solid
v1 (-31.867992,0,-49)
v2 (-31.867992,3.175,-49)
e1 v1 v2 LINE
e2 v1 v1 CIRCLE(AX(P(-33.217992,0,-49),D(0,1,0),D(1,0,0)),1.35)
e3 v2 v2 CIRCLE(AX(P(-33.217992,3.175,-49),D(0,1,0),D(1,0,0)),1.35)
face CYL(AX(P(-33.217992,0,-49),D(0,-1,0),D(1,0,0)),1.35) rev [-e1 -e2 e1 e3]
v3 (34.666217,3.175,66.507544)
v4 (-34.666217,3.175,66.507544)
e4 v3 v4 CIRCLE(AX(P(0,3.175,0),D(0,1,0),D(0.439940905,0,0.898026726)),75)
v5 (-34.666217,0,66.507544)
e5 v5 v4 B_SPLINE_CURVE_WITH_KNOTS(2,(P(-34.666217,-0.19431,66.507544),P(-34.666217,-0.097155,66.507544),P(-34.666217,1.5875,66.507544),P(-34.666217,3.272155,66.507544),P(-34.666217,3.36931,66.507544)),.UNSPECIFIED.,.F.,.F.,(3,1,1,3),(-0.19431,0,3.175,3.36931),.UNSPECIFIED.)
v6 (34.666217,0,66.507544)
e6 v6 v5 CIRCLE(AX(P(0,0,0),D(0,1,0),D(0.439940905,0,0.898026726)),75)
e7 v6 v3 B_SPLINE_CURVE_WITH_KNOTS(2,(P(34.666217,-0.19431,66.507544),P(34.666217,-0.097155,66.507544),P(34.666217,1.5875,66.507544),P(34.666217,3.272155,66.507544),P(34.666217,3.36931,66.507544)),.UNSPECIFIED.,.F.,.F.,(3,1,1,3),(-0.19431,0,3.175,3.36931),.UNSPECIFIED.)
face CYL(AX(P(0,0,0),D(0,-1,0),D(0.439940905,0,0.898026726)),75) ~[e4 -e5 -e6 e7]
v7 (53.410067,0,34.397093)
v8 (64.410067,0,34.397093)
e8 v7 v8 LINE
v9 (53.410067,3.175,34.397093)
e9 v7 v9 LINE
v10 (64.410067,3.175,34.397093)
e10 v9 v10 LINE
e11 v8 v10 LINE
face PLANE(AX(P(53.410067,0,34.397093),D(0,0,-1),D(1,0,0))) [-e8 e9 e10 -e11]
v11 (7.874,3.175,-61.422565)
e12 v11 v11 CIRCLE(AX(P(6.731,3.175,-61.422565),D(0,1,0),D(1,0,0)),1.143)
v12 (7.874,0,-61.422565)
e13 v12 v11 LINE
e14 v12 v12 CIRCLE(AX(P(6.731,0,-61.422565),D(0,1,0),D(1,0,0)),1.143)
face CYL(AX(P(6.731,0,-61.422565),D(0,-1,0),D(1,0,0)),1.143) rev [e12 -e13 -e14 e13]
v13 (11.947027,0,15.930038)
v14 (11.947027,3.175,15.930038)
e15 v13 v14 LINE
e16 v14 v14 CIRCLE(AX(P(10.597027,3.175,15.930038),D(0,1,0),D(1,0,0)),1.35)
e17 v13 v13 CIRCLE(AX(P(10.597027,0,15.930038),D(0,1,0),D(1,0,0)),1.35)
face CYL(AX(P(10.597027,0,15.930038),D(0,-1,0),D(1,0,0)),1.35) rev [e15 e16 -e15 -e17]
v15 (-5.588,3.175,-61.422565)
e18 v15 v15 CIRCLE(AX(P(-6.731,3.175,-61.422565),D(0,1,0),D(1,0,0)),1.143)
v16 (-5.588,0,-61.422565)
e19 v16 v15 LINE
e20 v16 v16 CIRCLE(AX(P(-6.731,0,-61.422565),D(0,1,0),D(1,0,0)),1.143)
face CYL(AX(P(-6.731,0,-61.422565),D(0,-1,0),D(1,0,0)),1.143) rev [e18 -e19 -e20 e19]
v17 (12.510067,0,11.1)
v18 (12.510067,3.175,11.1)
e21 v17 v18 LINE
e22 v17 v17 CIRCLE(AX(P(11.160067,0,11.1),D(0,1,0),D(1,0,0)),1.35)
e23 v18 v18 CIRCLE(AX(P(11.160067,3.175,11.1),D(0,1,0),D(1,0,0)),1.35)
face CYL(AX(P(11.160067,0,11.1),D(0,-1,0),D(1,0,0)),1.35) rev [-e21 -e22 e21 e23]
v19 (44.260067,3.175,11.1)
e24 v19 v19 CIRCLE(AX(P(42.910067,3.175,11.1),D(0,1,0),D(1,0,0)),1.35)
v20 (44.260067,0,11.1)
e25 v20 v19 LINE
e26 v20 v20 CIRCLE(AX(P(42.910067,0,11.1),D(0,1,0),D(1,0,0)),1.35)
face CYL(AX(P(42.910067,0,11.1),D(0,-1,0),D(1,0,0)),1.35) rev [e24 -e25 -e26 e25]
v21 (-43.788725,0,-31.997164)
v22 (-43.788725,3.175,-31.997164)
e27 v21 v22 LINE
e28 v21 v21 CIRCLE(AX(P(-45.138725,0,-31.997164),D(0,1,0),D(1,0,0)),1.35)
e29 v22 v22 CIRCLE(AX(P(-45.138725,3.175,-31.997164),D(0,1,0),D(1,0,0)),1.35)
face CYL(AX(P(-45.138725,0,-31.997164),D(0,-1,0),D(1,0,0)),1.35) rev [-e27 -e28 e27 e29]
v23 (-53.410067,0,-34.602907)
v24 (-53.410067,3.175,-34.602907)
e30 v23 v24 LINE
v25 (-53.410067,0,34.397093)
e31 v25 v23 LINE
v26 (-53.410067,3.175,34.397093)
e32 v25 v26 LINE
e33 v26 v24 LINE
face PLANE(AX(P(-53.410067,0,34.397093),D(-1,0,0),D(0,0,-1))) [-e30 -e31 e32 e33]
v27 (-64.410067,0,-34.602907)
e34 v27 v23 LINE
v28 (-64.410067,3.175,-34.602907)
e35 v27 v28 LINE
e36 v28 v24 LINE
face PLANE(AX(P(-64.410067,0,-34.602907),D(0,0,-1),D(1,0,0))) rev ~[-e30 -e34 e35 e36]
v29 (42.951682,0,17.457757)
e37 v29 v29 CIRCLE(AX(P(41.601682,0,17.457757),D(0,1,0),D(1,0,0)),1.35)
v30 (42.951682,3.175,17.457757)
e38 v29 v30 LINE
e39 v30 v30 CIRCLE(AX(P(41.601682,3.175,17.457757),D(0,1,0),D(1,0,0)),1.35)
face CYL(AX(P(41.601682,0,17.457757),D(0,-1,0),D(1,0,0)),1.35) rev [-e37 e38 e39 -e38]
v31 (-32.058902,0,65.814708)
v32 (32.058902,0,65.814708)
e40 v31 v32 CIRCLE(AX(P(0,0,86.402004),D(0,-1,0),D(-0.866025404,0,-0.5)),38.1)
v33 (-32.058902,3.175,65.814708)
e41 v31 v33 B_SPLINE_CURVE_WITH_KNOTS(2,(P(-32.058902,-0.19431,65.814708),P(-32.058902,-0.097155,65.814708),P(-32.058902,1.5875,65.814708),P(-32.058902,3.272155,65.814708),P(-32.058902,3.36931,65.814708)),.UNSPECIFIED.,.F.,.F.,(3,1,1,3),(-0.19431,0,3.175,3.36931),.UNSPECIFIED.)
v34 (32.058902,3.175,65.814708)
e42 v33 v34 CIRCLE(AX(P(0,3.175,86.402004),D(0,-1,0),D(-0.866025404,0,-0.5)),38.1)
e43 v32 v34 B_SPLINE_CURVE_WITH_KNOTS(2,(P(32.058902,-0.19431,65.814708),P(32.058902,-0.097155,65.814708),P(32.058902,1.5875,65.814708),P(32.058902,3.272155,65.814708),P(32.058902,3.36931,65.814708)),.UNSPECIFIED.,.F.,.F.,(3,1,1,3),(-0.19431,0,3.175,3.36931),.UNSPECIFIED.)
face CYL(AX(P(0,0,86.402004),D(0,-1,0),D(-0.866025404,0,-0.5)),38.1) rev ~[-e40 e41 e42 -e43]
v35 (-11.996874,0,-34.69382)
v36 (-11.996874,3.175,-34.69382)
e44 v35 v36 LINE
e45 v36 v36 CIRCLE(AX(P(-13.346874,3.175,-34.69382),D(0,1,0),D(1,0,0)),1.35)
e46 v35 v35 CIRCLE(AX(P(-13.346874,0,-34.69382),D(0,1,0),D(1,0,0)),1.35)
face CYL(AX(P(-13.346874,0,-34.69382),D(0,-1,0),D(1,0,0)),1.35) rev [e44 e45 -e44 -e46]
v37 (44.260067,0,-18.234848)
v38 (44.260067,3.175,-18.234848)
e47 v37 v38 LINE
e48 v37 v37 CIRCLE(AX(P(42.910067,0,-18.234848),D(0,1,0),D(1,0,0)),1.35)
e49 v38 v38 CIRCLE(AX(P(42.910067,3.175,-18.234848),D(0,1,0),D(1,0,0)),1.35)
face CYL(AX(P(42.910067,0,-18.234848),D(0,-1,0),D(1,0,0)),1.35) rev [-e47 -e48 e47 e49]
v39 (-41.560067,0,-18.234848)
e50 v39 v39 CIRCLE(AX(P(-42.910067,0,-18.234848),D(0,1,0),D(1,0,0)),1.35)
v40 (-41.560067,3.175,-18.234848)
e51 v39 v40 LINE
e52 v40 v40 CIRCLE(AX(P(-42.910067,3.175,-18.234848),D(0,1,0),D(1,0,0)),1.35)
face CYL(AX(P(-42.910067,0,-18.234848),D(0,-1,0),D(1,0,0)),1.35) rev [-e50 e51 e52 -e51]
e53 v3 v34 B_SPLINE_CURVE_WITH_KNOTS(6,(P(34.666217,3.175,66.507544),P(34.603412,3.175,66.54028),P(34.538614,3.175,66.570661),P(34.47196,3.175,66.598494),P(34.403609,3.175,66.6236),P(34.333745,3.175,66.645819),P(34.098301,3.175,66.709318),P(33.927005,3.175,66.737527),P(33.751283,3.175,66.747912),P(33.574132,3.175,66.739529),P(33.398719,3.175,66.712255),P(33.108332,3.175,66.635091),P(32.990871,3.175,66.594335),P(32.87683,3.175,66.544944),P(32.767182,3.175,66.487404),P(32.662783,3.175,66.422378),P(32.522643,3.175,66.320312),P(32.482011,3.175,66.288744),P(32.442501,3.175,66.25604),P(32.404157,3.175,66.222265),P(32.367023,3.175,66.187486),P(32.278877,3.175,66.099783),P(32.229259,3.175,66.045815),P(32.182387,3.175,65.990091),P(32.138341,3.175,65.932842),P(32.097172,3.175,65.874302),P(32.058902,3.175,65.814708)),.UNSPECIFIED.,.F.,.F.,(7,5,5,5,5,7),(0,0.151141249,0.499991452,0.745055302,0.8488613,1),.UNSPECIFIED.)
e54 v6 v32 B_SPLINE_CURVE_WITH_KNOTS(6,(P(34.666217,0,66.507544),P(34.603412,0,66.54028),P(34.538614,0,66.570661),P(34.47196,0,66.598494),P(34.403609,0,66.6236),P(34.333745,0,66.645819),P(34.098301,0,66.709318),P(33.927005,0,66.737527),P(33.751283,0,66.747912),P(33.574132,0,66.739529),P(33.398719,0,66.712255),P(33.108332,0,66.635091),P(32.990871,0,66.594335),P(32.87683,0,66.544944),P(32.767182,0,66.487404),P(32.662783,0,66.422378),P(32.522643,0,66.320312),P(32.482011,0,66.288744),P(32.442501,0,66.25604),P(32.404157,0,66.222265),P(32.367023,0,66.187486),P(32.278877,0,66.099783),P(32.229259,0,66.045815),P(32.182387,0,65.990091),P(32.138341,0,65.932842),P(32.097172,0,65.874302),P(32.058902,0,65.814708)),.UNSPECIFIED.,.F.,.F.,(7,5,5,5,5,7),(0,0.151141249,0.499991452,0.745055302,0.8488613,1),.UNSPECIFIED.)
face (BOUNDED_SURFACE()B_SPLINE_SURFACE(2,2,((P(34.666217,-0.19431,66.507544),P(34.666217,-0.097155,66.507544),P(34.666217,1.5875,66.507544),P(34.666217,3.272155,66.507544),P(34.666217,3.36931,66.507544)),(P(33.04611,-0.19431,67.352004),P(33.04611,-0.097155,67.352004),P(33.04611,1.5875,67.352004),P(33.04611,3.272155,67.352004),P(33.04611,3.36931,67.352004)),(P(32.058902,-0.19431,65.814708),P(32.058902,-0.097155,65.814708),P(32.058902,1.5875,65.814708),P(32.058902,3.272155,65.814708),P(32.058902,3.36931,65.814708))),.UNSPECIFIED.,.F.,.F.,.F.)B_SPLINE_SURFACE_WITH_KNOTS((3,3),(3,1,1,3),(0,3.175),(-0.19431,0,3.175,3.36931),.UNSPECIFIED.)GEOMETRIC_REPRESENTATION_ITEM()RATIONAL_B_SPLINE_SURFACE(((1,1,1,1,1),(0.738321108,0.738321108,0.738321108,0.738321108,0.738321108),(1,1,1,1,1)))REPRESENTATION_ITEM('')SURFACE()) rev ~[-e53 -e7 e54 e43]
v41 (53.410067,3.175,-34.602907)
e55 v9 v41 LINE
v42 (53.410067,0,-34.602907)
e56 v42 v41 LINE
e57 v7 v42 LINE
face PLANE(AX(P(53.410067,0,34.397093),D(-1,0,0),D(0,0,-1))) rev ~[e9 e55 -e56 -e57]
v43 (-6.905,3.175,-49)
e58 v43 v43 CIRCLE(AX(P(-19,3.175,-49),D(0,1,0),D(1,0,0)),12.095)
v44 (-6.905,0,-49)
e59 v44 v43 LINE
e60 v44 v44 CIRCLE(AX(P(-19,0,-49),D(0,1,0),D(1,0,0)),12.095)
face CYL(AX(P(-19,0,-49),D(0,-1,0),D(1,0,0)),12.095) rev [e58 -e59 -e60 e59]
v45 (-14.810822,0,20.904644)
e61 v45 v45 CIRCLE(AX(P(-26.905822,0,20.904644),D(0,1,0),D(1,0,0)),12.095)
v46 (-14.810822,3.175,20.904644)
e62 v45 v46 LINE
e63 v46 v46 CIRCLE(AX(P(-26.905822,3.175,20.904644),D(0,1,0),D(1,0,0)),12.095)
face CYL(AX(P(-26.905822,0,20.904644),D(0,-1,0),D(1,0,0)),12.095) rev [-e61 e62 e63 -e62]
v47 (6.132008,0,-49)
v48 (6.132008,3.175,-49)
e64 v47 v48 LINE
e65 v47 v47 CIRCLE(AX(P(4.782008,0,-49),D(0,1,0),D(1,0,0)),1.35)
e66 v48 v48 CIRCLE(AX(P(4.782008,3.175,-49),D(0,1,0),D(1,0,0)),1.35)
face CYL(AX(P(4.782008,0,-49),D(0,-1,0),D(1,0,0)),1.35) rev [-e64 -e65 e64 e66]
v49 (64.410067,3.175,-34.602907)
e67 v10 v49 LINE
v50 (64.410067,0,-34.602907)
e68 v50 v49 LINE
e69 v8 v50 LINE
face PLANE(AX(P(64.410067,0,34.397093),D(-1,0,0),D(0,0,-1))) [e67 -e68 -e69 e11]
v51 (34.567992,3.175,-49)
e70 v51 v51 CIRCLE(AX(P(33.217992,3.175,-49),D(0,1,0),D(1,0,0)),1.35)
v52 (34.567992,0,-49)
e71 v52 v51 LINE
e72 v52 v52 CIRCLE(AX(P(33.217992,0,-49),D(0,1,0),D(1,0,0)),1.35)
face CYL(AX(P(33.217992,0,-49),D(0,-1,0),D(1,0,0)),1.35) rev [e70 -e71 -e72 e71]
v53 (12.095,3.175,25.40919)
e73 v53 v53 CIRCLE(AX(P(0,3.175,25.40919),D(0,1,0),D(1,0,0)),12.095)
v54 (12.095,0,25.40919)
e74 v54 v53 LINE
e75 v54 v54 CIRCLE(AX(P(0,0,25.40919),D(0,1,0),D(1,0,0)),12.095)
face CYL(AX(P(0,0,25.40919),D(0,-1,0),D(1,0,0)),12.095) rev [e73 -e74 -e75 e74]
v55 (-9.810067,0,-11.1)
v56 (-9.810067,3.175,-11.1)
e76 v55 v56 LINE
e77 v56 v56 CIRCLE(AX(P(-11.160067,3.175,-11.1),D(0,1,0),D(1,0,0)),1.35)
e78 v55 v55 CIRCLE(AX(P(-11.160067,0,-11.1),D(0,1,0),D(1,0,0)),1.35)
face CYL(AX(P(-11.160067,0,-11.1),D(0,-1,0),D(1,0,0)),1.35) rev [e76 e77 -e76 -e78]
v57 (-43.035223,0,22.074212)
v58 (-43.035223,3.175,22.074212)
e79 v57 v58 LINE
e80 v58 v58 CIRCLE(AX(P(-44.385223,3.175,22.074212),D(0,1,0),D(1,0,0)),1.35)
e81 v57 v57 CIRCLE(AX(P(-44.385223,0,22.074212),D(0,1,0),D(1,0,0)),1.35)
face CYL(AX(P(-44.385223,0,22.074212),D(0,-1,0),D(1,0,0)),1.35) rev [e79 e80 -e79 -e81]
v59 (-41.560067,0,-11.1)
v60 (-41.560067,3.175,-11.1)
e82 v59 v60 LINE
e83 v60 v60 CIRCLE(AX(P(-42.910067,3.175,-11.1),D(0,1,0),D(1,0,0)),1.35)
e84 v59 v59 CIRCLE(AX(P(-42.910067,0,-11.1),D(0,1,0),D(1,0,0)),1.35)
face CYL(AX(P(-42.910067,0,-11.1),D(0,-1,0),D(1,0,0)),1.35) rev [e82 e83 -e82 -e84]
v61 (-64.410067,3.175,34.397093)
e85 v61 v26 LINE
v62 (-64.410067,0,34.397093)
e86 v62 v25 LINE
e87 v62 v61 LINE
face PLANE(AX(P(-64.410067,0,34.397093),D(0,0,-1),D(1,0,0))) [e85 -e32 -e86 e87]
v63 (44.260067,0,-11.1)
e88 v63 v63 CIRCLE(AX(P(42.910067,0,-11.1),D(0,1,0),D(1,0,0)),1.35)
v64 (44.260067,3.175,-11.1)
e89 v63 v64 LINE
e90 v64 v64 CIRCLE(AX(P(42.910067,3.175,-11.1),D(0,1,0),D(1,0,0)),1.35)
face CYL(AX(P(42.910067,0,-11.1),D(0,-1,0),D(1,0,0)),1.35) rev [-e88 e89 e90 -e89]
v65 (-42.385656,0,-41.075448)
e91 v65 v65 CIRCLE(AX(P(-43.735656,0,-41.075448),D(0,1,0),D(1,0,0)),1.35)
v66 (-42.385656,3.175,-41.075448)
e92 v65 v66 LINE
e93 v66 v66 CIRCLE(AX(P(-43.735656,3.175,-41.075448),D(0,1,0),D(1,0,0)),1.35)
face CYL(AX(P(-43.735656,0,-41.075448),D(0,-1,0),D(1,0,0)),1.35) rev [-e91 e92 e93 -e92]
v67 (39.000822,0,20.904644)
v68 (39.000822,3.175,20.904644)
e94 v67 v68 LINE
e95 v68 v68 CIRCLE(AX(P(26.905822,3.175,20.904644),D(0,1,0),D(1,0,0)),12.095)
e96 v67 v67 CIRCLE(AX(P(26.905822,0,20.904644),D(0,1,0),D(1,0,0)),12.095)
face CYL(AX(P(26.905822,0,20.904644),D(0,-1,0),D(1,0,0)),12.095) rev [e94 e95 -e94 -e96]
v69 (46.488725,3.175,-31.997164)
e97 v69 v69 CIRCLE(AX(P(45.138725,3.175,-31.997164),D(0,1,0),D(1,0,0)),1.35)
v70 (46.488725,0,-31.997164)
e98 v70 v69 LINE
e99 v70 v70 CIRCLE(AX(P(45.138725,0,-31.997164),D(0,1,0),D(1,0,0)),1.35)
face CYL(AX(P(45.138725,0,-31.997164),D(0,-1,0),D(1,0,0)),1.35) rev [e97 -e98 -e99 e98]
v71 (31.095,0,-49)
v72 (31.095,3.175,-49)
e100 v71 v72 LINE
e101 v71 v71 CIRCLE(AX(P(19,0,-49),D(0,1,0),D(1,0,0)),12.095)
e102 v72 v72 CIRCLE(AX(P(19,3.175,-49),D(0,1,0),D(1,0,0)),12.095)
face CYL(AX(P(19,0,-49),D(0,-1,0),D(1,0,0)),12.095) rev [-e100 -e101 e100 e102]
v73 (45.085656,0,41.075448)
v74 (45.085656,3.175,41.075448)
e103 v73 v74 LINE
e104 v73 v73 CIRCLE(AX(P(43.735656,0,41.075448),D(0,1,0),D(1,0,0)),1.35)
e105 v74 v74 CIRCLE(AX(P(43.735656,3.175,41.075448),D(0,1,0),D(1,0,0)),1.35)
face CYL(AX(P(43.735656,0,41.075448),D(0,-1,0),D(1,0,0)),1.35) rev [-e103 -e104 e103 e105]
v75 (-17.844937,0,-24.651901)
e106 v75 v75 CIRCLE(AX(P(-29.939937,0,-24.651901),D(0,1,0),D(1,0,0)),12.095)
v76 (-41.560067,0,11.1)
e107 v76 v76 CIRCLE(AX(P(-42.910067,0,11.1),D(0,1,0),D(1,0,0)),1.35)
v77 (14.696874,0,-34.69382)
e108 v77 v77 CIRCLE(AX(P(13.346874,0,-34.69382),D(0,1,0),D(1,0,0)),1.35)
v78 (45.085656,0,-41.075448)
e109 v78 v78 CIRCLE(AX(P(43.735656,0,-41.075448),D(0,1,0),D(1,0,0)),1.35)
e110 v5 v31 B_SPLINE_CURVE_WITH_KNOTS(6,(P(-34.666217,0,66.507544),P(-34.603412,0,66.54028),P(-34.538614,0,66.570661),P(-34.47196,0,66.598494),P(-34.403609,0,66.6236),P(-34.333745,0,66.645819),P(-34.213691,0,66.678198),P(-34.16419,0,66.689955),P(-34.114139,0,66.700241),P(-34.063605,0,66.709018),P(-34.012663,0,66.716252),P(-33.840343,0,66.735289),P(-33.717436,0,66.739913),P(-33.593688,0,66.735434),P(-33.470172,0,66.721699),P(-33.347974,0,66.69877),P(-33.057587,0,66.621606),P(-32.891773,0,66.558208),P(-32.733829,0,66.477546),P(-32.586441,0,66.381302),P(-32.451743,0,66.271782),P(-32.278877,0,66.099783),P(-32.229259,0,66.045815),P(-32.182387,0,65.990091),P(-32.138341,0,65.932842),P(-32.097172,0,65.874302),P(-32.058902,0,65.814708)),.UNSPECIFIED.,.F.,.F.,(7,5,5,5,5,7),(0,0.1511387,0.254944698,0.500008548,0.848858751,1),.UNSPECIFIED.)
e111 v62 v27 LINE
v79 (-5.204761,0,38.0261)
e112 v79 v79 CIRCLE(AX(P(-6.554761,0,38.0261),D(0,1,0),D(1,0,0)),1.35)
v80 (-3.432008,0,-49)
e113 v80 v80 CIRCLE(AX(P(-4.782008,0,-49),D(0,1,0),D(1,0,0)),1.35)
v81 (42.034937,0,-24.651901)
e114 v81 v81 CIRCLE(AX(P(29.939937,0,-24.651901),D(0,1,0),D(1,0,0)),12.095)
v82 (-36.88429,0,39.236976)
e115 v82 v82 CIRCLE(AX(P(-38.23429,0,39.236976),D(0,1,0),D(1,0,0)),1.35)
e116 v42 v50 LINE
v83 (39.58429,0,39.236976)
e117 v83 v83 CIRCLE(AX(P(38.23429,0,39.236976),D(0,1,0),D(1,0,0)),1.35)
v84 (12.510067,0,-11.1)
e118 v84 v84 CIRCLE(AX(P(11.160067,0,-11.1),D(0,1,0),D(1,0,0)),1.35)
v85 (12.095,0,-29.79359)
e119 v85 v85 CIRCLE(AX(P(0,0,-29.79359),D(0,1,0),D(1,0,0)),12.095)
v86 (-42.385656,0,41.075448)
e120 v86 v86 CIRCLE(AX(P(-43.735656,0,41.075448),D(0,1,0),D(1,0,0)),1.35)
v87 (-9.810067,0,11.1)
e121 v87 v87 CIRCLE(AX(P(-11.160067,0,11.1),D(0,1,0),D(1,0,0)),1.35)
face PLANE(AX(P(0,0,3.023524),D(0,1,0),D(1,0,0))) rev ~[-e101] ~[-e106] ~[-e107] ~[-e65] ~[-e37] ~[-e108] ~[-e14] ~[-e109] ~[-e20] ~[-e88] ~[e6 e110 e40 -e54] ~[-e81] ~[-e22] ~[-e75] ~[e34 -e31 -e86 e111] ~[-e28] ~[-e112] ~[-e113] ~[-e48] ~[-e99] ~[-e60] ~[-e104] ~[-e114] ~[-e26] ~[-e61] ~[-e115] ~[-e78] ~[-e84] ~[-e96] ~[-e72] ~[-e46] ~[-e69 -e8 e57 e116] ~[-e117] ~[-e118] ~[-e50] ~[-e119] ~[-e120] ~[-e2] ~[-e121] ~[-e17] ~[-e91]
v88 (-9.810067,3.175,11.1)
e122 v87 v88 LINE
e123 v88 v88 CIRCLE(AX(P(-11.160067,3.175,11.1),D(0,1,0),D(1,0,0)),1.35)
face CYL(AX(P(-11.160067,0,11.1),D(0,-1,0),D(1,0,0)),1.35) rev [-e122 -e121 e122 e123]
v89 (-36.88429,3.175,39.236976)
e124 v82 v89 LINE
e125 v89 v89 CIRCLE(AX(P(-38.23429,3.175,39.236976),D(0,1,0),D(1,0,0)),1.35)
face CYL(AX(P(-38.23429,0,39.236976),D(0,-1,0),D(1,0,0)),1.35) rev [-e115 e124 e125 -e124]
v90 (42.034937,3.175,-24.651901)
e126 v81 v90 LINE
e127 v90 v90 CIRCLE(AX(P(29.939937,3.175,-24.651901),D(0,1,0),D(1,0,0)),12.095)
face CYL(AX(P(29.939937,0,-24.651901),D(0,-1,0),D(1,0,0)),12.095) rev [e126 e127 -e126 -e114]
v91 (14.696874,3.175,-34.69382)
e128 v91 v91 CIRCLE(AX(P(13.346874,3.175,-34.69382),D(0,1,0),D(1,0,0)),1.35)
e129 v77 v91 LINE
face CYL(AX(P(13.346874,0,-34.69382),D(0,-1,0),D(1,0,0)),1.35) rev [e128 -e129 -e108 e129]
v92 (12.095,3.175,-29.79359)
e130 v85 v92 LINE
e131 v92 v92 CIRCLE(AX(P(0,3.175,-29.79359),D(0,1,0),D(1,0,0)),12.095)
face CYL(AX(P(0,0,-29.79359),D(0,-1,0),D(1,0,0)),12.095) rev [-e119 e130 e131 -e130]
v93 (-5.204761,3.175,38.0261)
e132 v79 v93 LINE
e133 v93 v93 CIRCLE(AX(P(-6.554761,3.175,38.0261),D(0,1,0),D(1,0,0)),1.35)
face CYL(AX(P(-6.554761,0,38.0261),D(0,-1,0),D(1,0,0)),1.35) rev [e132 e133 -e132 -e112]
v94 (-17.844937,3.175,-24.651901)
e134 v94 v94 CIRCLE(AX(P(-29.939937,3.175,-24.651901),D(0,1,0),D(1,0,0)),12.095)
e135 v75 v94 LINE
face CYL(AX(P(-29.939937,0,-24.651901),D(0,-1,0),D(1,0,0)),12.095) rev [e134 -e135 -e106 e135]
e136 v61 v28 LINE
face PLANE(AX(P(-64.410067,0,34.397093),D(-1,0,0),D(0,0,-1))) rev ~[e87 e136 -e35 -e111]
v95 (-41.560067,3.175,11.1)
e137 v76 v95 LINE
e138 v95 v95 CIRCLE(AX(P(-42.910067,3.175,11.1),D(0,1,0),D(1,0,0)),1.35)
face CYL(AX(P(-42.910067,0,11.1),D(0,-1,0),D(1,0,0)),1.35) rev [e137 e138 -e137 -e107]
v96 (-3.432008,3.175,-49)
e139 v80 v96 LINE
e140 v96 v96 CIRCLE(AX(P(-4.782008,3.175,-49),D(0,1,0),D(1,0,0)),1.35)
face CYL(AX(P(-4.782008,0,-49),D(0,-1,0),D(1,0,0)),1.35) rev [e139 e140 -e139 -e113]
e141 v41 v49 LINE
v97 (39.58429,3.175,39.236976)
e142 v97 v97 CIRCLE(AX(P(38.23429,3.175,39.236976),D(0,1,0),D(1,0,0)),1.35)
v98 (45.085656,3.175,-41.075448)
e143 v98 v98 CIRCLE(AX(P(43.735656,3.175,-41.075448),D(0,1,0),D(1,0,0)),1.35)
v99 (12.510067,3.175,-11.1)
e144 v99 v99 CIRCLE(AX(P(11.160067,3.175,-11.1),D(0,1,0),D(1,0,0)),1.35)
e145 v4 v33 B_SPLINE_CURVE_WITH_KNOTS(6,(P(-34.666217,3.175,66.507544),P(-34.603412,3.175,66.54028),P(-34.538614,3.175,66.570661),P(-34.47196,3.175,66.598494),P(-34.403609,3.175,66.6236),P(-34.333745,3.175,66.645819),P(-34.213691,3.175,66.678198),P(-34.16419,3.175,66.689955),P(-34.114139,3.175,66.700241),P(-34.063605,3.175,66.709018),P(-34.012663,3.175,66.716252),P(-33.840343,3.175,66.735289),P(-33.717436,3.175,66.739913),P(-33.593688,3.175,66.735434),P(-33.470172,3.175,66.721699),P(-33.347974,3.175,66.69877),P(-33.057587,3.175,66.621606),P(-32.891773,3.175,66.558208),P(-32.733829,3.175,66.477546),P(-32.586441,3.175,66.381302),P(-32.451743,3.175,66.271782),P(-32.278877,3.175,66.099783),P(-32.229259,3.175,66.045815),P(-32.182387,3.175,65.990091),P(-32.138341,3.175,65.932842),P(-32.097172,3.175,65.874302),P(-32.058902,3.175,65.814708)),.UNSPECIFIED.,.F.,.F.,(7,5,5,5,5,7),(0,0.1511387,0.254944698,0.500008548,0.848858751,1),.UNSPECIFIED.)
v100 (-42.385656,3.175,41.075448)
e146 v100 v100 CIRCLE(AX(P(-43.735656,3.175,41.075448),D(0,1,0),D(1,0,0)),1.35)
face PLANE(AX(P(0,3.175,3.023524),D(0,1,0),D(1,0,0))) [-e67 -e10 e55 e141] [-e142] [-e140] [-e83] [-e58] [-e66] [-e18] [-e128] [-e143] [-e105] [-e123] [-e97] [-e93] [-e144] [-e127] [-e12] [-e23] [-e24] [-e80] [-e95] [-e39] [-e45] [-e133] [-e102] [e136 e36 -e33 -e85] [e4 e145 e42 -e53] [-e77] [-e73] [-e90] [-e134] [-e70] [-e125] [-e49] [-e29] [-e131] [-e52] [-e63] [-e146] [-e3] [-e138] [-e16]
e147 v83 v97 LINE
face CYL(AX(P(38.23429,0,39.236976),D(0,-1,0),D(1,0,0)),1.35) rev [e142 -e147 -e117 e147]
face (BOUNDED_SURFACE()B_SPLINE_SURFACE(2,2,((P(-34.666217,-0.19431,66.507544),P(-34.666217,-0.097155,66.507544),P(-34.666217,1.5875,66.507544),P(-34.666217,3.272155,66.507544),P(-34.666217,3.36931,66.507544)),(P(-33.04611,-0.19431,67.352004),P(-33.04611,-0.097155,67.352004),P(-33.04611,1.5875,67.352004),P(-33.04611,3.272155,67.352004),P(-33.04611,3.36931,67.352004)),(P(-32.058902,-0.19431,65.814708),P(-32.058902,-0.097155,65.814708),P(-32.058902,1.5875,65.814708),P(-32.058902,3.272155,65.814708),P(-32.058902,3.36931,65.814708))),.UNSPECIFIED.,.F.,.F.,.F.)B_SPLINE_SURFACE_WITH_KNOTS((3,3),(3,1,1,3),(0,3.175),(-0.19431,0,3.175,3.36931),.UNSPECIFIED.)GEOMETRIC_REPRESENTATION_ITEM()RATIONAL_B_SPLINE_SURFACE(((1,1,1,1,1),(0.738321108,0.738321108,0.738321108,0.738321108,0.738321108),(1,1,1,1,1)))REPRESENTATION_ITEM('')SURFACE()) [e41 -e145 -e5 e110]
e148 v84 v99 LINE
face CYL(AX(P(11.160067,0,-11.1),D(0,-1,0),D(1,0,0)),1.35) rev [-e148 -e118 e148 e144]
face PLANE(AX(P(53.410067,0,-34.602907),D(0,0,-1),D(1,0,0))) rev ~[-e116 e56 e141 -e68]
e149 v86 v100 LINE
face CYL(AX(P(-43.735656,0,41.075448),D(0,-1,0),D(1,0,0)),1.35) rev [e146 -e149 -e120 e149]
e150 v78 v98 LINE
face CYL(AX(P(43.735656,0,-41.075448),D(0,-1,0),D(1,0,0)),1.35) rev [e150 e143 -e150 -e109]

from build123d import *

# Parameters (mm, degrees)
SKETCH1_R           = 1.35
SKETCH1_R_2         = 12.095
SKETCH1_R_3         = 1.143
SKETCH1_W           = 11
SKETCH1_H           = 69
BOSS_EXTRUDE2_DEPTH = 3.175
FILLET1_R           = 2


with BuildPart() as part:
    # Sketch1 → Boss-Extrude2 (new body)
    with BuildSketch(Plane(origin=(0, 0, 0), x_dir=(1, 0, 0), z_dir=(0, 1, 0))):
        with BuildLine():
            ThreePointArc((32.995567884, -67.352004425), (0, 75), (-32.995567884, -67.352004425))
            ThreePointArc((-32.995567884, -67.352004425), (0, -48.302004425), (32.995567884, -67.352004425))
        make_face()
        with Locations((-42.910067426, 11.1)):
            Circle(SKETCH1_R, mode=Mode.SUBTRACT)
        with Locations((-42.910067426, -11.1)):
            Circle(SKETCH1_R, mode=Mode.SUBTRACT)
        with Locations((-11.160067426, -11.1)):
            Circle(SKETCH1_R, mode=Mode.SUBTRACT)
        with Locations((-11.160067426, 11.1)):
            Circle(SKETCH1_R, mode=Mode.SUBTRACT)
        with Locations((11.160067426, 11.1)):
            Circle(SKETCH1_R, mode=Mode.SUBTRACT)
        with Locations((11.160067426, -11.1)):
            Circle(SKETCH1_R, mode=Mode.SUBTRACT)
        with Locations((42.910067426, -11.1)):
            Circle(SKETCH1_R, mode=Mode.SUBTRACT)
        with Locations((42.910067426, 11.1)):
            Circle(SKETCH1_R, mode=Mode.SUBTRACT)
        with Locations((26.905821676, -20.904643604)):
            Circle(SKETCH1_R_2, mode=Mode.SUBTRACT)
        with Locations((19, 49)):
            Circle(SKETCH1_R_2, mode=Mode.SUBTRACT)
        with Locations((0, 29.793589551)):
            Circle(SKETCH1_R_2, mode=Mode.SUBTRACT)
        with Locations((0, -25.409190322)):
            Circle(SKETCH1_R_2, mode=Mode.SUBTRACT)
        with Locations((29.939937248, 24.651901309)):
            Circle(SKETCH1_R_2, mode=Mode.SUBTRACT)
        with Locations((-26.905821676, -20.904643604)):
            Circle(SKETCH1_R_2, mode=Mode.SUBTRACT)
        with Locations((6.731, 61.422565207)):
            Circle(SKETCH1_R_3, mode=Mode.SUBTRACT)
        with Locations((-6.731, 61.422565207)):
            Circle(SKETCH1_R_3, mode=Mode.SUBTRACT)
        with Locations((-29.939937248, 24.651901309)):
            Circle(SKETCH1_R_2, mode=Mode.SUBTRACT)
        with Locations((-33.21799214, 49)):
            Circle(SKETCH1_R, mode=Mode.SUBTRACT)
        with Locations((-4.78200786, 49)):
            Circle(SKETCH1_R, mode=Mode.SUBTRACT)
        with Locations((4.78200786, 49)):
            Circle(SKETCH1_R, mode=Mode.SUBTRACT)
        with Locations((-42.910067426, 18.234848025)):
            Circle(SKETCH1_R, mode=Mode.SUBTRACT)
        with Locations((42.910067426, 18.234848025)):
            Circle(SKETCH1_R, mode=Mode.SUBTRACT)
        with Locations((-19, 49)):
            Circle(SKETCH1_R_2, mode=Mode.SUBTRACT)
        with Locations((45.13872464, 31.997163897)):
            Circle(SKETCH1_R, mode=Mode.SUBTRACT)
        with Locations((-45.13872464, 31.997163897)):
            Circle(SKETCH1_R, mode=Mode.SUBTRACT)
        with Locations((13.346873881, 34.693819966)):
            Circle(SKETCH1_R, mode=Mode.SUBTRACT)
        with Locations((-6.55476095, -38.026099982)):
            Circle(SKETCH1_R, mode=Mode.SUBTRACT)
        with Locations((-13.346873881, 34.693819966)):
            Circle(SKETCH1_R, mode=Mode.SUBTRACT)
        with Locations((10.597026674, -15.930038136)):
            Circle(SKETCH1_R, mode=Mode.SUBTRACT)
        with Locations((-38.234289702, -39.23697625)):
            Circle(SKETCH1_R, mode=Mode.SUBTRACT)
        with Locations((-43.735655662, -41.075447944)):
            Circle(SKETCH1_R, mode=Mode.SUBTRACT)
        with Locations((-43.735655662, 41.075447944)):
            Circle(SKETCH1_R, mode=Mode.SUBTRACT)
        with Locations((43.735655662, -41.075447944)):
            Circle(SKETCH1_R, mode=Mode.SUBTRACT)
        with Locations((33.21799214, 49)):
            Circle(SKETCH1_R, mode=Mode.SUBTRACT)
        with Locations((43.735655662, 41.075447944)):
            Circle(SKETCH1_R, mode=Mode.SUBTRACT)
        with Locations((-44.385223141, -22.074211772)):
            Circle(SKETCH1_R, mode=Mode.SUBTRACT)
        with Locations((41.601681906, -17.457756634)):
            Circle(SKETCH1_R, mode=Mode.SUBTRACT)
        with Locations((38.234289702, -39.23697625)):
            Circle(SKETCH1_R, mode=Mode.SUBTRACT)
        with Locations((58.910067426, 0.102907352)):
            Rectangle(SKETCH1_W, SKETCH1_H, mode=Mode.SUBTRACT)
        with Locations((-58.910067426, 0.102907352)):
            Rectangle(SKETCH1_W, SKETCH1_H, mode=Mode.SUBTRACT)
    extrude(amount=BOSS_EXTRUDE2_DEPTH)

    # Fillet1
    fillet1_edges = [part.edges().sort_by_distance(p)[0] for p in [
        (-32.995567884, 1.5875, 67.352004425),
        (32.995567884, 1.5875, 67.352004425),
    ]]
    fillet(fillet1_edges, radius=FILLET1_R)


solid = part.part
